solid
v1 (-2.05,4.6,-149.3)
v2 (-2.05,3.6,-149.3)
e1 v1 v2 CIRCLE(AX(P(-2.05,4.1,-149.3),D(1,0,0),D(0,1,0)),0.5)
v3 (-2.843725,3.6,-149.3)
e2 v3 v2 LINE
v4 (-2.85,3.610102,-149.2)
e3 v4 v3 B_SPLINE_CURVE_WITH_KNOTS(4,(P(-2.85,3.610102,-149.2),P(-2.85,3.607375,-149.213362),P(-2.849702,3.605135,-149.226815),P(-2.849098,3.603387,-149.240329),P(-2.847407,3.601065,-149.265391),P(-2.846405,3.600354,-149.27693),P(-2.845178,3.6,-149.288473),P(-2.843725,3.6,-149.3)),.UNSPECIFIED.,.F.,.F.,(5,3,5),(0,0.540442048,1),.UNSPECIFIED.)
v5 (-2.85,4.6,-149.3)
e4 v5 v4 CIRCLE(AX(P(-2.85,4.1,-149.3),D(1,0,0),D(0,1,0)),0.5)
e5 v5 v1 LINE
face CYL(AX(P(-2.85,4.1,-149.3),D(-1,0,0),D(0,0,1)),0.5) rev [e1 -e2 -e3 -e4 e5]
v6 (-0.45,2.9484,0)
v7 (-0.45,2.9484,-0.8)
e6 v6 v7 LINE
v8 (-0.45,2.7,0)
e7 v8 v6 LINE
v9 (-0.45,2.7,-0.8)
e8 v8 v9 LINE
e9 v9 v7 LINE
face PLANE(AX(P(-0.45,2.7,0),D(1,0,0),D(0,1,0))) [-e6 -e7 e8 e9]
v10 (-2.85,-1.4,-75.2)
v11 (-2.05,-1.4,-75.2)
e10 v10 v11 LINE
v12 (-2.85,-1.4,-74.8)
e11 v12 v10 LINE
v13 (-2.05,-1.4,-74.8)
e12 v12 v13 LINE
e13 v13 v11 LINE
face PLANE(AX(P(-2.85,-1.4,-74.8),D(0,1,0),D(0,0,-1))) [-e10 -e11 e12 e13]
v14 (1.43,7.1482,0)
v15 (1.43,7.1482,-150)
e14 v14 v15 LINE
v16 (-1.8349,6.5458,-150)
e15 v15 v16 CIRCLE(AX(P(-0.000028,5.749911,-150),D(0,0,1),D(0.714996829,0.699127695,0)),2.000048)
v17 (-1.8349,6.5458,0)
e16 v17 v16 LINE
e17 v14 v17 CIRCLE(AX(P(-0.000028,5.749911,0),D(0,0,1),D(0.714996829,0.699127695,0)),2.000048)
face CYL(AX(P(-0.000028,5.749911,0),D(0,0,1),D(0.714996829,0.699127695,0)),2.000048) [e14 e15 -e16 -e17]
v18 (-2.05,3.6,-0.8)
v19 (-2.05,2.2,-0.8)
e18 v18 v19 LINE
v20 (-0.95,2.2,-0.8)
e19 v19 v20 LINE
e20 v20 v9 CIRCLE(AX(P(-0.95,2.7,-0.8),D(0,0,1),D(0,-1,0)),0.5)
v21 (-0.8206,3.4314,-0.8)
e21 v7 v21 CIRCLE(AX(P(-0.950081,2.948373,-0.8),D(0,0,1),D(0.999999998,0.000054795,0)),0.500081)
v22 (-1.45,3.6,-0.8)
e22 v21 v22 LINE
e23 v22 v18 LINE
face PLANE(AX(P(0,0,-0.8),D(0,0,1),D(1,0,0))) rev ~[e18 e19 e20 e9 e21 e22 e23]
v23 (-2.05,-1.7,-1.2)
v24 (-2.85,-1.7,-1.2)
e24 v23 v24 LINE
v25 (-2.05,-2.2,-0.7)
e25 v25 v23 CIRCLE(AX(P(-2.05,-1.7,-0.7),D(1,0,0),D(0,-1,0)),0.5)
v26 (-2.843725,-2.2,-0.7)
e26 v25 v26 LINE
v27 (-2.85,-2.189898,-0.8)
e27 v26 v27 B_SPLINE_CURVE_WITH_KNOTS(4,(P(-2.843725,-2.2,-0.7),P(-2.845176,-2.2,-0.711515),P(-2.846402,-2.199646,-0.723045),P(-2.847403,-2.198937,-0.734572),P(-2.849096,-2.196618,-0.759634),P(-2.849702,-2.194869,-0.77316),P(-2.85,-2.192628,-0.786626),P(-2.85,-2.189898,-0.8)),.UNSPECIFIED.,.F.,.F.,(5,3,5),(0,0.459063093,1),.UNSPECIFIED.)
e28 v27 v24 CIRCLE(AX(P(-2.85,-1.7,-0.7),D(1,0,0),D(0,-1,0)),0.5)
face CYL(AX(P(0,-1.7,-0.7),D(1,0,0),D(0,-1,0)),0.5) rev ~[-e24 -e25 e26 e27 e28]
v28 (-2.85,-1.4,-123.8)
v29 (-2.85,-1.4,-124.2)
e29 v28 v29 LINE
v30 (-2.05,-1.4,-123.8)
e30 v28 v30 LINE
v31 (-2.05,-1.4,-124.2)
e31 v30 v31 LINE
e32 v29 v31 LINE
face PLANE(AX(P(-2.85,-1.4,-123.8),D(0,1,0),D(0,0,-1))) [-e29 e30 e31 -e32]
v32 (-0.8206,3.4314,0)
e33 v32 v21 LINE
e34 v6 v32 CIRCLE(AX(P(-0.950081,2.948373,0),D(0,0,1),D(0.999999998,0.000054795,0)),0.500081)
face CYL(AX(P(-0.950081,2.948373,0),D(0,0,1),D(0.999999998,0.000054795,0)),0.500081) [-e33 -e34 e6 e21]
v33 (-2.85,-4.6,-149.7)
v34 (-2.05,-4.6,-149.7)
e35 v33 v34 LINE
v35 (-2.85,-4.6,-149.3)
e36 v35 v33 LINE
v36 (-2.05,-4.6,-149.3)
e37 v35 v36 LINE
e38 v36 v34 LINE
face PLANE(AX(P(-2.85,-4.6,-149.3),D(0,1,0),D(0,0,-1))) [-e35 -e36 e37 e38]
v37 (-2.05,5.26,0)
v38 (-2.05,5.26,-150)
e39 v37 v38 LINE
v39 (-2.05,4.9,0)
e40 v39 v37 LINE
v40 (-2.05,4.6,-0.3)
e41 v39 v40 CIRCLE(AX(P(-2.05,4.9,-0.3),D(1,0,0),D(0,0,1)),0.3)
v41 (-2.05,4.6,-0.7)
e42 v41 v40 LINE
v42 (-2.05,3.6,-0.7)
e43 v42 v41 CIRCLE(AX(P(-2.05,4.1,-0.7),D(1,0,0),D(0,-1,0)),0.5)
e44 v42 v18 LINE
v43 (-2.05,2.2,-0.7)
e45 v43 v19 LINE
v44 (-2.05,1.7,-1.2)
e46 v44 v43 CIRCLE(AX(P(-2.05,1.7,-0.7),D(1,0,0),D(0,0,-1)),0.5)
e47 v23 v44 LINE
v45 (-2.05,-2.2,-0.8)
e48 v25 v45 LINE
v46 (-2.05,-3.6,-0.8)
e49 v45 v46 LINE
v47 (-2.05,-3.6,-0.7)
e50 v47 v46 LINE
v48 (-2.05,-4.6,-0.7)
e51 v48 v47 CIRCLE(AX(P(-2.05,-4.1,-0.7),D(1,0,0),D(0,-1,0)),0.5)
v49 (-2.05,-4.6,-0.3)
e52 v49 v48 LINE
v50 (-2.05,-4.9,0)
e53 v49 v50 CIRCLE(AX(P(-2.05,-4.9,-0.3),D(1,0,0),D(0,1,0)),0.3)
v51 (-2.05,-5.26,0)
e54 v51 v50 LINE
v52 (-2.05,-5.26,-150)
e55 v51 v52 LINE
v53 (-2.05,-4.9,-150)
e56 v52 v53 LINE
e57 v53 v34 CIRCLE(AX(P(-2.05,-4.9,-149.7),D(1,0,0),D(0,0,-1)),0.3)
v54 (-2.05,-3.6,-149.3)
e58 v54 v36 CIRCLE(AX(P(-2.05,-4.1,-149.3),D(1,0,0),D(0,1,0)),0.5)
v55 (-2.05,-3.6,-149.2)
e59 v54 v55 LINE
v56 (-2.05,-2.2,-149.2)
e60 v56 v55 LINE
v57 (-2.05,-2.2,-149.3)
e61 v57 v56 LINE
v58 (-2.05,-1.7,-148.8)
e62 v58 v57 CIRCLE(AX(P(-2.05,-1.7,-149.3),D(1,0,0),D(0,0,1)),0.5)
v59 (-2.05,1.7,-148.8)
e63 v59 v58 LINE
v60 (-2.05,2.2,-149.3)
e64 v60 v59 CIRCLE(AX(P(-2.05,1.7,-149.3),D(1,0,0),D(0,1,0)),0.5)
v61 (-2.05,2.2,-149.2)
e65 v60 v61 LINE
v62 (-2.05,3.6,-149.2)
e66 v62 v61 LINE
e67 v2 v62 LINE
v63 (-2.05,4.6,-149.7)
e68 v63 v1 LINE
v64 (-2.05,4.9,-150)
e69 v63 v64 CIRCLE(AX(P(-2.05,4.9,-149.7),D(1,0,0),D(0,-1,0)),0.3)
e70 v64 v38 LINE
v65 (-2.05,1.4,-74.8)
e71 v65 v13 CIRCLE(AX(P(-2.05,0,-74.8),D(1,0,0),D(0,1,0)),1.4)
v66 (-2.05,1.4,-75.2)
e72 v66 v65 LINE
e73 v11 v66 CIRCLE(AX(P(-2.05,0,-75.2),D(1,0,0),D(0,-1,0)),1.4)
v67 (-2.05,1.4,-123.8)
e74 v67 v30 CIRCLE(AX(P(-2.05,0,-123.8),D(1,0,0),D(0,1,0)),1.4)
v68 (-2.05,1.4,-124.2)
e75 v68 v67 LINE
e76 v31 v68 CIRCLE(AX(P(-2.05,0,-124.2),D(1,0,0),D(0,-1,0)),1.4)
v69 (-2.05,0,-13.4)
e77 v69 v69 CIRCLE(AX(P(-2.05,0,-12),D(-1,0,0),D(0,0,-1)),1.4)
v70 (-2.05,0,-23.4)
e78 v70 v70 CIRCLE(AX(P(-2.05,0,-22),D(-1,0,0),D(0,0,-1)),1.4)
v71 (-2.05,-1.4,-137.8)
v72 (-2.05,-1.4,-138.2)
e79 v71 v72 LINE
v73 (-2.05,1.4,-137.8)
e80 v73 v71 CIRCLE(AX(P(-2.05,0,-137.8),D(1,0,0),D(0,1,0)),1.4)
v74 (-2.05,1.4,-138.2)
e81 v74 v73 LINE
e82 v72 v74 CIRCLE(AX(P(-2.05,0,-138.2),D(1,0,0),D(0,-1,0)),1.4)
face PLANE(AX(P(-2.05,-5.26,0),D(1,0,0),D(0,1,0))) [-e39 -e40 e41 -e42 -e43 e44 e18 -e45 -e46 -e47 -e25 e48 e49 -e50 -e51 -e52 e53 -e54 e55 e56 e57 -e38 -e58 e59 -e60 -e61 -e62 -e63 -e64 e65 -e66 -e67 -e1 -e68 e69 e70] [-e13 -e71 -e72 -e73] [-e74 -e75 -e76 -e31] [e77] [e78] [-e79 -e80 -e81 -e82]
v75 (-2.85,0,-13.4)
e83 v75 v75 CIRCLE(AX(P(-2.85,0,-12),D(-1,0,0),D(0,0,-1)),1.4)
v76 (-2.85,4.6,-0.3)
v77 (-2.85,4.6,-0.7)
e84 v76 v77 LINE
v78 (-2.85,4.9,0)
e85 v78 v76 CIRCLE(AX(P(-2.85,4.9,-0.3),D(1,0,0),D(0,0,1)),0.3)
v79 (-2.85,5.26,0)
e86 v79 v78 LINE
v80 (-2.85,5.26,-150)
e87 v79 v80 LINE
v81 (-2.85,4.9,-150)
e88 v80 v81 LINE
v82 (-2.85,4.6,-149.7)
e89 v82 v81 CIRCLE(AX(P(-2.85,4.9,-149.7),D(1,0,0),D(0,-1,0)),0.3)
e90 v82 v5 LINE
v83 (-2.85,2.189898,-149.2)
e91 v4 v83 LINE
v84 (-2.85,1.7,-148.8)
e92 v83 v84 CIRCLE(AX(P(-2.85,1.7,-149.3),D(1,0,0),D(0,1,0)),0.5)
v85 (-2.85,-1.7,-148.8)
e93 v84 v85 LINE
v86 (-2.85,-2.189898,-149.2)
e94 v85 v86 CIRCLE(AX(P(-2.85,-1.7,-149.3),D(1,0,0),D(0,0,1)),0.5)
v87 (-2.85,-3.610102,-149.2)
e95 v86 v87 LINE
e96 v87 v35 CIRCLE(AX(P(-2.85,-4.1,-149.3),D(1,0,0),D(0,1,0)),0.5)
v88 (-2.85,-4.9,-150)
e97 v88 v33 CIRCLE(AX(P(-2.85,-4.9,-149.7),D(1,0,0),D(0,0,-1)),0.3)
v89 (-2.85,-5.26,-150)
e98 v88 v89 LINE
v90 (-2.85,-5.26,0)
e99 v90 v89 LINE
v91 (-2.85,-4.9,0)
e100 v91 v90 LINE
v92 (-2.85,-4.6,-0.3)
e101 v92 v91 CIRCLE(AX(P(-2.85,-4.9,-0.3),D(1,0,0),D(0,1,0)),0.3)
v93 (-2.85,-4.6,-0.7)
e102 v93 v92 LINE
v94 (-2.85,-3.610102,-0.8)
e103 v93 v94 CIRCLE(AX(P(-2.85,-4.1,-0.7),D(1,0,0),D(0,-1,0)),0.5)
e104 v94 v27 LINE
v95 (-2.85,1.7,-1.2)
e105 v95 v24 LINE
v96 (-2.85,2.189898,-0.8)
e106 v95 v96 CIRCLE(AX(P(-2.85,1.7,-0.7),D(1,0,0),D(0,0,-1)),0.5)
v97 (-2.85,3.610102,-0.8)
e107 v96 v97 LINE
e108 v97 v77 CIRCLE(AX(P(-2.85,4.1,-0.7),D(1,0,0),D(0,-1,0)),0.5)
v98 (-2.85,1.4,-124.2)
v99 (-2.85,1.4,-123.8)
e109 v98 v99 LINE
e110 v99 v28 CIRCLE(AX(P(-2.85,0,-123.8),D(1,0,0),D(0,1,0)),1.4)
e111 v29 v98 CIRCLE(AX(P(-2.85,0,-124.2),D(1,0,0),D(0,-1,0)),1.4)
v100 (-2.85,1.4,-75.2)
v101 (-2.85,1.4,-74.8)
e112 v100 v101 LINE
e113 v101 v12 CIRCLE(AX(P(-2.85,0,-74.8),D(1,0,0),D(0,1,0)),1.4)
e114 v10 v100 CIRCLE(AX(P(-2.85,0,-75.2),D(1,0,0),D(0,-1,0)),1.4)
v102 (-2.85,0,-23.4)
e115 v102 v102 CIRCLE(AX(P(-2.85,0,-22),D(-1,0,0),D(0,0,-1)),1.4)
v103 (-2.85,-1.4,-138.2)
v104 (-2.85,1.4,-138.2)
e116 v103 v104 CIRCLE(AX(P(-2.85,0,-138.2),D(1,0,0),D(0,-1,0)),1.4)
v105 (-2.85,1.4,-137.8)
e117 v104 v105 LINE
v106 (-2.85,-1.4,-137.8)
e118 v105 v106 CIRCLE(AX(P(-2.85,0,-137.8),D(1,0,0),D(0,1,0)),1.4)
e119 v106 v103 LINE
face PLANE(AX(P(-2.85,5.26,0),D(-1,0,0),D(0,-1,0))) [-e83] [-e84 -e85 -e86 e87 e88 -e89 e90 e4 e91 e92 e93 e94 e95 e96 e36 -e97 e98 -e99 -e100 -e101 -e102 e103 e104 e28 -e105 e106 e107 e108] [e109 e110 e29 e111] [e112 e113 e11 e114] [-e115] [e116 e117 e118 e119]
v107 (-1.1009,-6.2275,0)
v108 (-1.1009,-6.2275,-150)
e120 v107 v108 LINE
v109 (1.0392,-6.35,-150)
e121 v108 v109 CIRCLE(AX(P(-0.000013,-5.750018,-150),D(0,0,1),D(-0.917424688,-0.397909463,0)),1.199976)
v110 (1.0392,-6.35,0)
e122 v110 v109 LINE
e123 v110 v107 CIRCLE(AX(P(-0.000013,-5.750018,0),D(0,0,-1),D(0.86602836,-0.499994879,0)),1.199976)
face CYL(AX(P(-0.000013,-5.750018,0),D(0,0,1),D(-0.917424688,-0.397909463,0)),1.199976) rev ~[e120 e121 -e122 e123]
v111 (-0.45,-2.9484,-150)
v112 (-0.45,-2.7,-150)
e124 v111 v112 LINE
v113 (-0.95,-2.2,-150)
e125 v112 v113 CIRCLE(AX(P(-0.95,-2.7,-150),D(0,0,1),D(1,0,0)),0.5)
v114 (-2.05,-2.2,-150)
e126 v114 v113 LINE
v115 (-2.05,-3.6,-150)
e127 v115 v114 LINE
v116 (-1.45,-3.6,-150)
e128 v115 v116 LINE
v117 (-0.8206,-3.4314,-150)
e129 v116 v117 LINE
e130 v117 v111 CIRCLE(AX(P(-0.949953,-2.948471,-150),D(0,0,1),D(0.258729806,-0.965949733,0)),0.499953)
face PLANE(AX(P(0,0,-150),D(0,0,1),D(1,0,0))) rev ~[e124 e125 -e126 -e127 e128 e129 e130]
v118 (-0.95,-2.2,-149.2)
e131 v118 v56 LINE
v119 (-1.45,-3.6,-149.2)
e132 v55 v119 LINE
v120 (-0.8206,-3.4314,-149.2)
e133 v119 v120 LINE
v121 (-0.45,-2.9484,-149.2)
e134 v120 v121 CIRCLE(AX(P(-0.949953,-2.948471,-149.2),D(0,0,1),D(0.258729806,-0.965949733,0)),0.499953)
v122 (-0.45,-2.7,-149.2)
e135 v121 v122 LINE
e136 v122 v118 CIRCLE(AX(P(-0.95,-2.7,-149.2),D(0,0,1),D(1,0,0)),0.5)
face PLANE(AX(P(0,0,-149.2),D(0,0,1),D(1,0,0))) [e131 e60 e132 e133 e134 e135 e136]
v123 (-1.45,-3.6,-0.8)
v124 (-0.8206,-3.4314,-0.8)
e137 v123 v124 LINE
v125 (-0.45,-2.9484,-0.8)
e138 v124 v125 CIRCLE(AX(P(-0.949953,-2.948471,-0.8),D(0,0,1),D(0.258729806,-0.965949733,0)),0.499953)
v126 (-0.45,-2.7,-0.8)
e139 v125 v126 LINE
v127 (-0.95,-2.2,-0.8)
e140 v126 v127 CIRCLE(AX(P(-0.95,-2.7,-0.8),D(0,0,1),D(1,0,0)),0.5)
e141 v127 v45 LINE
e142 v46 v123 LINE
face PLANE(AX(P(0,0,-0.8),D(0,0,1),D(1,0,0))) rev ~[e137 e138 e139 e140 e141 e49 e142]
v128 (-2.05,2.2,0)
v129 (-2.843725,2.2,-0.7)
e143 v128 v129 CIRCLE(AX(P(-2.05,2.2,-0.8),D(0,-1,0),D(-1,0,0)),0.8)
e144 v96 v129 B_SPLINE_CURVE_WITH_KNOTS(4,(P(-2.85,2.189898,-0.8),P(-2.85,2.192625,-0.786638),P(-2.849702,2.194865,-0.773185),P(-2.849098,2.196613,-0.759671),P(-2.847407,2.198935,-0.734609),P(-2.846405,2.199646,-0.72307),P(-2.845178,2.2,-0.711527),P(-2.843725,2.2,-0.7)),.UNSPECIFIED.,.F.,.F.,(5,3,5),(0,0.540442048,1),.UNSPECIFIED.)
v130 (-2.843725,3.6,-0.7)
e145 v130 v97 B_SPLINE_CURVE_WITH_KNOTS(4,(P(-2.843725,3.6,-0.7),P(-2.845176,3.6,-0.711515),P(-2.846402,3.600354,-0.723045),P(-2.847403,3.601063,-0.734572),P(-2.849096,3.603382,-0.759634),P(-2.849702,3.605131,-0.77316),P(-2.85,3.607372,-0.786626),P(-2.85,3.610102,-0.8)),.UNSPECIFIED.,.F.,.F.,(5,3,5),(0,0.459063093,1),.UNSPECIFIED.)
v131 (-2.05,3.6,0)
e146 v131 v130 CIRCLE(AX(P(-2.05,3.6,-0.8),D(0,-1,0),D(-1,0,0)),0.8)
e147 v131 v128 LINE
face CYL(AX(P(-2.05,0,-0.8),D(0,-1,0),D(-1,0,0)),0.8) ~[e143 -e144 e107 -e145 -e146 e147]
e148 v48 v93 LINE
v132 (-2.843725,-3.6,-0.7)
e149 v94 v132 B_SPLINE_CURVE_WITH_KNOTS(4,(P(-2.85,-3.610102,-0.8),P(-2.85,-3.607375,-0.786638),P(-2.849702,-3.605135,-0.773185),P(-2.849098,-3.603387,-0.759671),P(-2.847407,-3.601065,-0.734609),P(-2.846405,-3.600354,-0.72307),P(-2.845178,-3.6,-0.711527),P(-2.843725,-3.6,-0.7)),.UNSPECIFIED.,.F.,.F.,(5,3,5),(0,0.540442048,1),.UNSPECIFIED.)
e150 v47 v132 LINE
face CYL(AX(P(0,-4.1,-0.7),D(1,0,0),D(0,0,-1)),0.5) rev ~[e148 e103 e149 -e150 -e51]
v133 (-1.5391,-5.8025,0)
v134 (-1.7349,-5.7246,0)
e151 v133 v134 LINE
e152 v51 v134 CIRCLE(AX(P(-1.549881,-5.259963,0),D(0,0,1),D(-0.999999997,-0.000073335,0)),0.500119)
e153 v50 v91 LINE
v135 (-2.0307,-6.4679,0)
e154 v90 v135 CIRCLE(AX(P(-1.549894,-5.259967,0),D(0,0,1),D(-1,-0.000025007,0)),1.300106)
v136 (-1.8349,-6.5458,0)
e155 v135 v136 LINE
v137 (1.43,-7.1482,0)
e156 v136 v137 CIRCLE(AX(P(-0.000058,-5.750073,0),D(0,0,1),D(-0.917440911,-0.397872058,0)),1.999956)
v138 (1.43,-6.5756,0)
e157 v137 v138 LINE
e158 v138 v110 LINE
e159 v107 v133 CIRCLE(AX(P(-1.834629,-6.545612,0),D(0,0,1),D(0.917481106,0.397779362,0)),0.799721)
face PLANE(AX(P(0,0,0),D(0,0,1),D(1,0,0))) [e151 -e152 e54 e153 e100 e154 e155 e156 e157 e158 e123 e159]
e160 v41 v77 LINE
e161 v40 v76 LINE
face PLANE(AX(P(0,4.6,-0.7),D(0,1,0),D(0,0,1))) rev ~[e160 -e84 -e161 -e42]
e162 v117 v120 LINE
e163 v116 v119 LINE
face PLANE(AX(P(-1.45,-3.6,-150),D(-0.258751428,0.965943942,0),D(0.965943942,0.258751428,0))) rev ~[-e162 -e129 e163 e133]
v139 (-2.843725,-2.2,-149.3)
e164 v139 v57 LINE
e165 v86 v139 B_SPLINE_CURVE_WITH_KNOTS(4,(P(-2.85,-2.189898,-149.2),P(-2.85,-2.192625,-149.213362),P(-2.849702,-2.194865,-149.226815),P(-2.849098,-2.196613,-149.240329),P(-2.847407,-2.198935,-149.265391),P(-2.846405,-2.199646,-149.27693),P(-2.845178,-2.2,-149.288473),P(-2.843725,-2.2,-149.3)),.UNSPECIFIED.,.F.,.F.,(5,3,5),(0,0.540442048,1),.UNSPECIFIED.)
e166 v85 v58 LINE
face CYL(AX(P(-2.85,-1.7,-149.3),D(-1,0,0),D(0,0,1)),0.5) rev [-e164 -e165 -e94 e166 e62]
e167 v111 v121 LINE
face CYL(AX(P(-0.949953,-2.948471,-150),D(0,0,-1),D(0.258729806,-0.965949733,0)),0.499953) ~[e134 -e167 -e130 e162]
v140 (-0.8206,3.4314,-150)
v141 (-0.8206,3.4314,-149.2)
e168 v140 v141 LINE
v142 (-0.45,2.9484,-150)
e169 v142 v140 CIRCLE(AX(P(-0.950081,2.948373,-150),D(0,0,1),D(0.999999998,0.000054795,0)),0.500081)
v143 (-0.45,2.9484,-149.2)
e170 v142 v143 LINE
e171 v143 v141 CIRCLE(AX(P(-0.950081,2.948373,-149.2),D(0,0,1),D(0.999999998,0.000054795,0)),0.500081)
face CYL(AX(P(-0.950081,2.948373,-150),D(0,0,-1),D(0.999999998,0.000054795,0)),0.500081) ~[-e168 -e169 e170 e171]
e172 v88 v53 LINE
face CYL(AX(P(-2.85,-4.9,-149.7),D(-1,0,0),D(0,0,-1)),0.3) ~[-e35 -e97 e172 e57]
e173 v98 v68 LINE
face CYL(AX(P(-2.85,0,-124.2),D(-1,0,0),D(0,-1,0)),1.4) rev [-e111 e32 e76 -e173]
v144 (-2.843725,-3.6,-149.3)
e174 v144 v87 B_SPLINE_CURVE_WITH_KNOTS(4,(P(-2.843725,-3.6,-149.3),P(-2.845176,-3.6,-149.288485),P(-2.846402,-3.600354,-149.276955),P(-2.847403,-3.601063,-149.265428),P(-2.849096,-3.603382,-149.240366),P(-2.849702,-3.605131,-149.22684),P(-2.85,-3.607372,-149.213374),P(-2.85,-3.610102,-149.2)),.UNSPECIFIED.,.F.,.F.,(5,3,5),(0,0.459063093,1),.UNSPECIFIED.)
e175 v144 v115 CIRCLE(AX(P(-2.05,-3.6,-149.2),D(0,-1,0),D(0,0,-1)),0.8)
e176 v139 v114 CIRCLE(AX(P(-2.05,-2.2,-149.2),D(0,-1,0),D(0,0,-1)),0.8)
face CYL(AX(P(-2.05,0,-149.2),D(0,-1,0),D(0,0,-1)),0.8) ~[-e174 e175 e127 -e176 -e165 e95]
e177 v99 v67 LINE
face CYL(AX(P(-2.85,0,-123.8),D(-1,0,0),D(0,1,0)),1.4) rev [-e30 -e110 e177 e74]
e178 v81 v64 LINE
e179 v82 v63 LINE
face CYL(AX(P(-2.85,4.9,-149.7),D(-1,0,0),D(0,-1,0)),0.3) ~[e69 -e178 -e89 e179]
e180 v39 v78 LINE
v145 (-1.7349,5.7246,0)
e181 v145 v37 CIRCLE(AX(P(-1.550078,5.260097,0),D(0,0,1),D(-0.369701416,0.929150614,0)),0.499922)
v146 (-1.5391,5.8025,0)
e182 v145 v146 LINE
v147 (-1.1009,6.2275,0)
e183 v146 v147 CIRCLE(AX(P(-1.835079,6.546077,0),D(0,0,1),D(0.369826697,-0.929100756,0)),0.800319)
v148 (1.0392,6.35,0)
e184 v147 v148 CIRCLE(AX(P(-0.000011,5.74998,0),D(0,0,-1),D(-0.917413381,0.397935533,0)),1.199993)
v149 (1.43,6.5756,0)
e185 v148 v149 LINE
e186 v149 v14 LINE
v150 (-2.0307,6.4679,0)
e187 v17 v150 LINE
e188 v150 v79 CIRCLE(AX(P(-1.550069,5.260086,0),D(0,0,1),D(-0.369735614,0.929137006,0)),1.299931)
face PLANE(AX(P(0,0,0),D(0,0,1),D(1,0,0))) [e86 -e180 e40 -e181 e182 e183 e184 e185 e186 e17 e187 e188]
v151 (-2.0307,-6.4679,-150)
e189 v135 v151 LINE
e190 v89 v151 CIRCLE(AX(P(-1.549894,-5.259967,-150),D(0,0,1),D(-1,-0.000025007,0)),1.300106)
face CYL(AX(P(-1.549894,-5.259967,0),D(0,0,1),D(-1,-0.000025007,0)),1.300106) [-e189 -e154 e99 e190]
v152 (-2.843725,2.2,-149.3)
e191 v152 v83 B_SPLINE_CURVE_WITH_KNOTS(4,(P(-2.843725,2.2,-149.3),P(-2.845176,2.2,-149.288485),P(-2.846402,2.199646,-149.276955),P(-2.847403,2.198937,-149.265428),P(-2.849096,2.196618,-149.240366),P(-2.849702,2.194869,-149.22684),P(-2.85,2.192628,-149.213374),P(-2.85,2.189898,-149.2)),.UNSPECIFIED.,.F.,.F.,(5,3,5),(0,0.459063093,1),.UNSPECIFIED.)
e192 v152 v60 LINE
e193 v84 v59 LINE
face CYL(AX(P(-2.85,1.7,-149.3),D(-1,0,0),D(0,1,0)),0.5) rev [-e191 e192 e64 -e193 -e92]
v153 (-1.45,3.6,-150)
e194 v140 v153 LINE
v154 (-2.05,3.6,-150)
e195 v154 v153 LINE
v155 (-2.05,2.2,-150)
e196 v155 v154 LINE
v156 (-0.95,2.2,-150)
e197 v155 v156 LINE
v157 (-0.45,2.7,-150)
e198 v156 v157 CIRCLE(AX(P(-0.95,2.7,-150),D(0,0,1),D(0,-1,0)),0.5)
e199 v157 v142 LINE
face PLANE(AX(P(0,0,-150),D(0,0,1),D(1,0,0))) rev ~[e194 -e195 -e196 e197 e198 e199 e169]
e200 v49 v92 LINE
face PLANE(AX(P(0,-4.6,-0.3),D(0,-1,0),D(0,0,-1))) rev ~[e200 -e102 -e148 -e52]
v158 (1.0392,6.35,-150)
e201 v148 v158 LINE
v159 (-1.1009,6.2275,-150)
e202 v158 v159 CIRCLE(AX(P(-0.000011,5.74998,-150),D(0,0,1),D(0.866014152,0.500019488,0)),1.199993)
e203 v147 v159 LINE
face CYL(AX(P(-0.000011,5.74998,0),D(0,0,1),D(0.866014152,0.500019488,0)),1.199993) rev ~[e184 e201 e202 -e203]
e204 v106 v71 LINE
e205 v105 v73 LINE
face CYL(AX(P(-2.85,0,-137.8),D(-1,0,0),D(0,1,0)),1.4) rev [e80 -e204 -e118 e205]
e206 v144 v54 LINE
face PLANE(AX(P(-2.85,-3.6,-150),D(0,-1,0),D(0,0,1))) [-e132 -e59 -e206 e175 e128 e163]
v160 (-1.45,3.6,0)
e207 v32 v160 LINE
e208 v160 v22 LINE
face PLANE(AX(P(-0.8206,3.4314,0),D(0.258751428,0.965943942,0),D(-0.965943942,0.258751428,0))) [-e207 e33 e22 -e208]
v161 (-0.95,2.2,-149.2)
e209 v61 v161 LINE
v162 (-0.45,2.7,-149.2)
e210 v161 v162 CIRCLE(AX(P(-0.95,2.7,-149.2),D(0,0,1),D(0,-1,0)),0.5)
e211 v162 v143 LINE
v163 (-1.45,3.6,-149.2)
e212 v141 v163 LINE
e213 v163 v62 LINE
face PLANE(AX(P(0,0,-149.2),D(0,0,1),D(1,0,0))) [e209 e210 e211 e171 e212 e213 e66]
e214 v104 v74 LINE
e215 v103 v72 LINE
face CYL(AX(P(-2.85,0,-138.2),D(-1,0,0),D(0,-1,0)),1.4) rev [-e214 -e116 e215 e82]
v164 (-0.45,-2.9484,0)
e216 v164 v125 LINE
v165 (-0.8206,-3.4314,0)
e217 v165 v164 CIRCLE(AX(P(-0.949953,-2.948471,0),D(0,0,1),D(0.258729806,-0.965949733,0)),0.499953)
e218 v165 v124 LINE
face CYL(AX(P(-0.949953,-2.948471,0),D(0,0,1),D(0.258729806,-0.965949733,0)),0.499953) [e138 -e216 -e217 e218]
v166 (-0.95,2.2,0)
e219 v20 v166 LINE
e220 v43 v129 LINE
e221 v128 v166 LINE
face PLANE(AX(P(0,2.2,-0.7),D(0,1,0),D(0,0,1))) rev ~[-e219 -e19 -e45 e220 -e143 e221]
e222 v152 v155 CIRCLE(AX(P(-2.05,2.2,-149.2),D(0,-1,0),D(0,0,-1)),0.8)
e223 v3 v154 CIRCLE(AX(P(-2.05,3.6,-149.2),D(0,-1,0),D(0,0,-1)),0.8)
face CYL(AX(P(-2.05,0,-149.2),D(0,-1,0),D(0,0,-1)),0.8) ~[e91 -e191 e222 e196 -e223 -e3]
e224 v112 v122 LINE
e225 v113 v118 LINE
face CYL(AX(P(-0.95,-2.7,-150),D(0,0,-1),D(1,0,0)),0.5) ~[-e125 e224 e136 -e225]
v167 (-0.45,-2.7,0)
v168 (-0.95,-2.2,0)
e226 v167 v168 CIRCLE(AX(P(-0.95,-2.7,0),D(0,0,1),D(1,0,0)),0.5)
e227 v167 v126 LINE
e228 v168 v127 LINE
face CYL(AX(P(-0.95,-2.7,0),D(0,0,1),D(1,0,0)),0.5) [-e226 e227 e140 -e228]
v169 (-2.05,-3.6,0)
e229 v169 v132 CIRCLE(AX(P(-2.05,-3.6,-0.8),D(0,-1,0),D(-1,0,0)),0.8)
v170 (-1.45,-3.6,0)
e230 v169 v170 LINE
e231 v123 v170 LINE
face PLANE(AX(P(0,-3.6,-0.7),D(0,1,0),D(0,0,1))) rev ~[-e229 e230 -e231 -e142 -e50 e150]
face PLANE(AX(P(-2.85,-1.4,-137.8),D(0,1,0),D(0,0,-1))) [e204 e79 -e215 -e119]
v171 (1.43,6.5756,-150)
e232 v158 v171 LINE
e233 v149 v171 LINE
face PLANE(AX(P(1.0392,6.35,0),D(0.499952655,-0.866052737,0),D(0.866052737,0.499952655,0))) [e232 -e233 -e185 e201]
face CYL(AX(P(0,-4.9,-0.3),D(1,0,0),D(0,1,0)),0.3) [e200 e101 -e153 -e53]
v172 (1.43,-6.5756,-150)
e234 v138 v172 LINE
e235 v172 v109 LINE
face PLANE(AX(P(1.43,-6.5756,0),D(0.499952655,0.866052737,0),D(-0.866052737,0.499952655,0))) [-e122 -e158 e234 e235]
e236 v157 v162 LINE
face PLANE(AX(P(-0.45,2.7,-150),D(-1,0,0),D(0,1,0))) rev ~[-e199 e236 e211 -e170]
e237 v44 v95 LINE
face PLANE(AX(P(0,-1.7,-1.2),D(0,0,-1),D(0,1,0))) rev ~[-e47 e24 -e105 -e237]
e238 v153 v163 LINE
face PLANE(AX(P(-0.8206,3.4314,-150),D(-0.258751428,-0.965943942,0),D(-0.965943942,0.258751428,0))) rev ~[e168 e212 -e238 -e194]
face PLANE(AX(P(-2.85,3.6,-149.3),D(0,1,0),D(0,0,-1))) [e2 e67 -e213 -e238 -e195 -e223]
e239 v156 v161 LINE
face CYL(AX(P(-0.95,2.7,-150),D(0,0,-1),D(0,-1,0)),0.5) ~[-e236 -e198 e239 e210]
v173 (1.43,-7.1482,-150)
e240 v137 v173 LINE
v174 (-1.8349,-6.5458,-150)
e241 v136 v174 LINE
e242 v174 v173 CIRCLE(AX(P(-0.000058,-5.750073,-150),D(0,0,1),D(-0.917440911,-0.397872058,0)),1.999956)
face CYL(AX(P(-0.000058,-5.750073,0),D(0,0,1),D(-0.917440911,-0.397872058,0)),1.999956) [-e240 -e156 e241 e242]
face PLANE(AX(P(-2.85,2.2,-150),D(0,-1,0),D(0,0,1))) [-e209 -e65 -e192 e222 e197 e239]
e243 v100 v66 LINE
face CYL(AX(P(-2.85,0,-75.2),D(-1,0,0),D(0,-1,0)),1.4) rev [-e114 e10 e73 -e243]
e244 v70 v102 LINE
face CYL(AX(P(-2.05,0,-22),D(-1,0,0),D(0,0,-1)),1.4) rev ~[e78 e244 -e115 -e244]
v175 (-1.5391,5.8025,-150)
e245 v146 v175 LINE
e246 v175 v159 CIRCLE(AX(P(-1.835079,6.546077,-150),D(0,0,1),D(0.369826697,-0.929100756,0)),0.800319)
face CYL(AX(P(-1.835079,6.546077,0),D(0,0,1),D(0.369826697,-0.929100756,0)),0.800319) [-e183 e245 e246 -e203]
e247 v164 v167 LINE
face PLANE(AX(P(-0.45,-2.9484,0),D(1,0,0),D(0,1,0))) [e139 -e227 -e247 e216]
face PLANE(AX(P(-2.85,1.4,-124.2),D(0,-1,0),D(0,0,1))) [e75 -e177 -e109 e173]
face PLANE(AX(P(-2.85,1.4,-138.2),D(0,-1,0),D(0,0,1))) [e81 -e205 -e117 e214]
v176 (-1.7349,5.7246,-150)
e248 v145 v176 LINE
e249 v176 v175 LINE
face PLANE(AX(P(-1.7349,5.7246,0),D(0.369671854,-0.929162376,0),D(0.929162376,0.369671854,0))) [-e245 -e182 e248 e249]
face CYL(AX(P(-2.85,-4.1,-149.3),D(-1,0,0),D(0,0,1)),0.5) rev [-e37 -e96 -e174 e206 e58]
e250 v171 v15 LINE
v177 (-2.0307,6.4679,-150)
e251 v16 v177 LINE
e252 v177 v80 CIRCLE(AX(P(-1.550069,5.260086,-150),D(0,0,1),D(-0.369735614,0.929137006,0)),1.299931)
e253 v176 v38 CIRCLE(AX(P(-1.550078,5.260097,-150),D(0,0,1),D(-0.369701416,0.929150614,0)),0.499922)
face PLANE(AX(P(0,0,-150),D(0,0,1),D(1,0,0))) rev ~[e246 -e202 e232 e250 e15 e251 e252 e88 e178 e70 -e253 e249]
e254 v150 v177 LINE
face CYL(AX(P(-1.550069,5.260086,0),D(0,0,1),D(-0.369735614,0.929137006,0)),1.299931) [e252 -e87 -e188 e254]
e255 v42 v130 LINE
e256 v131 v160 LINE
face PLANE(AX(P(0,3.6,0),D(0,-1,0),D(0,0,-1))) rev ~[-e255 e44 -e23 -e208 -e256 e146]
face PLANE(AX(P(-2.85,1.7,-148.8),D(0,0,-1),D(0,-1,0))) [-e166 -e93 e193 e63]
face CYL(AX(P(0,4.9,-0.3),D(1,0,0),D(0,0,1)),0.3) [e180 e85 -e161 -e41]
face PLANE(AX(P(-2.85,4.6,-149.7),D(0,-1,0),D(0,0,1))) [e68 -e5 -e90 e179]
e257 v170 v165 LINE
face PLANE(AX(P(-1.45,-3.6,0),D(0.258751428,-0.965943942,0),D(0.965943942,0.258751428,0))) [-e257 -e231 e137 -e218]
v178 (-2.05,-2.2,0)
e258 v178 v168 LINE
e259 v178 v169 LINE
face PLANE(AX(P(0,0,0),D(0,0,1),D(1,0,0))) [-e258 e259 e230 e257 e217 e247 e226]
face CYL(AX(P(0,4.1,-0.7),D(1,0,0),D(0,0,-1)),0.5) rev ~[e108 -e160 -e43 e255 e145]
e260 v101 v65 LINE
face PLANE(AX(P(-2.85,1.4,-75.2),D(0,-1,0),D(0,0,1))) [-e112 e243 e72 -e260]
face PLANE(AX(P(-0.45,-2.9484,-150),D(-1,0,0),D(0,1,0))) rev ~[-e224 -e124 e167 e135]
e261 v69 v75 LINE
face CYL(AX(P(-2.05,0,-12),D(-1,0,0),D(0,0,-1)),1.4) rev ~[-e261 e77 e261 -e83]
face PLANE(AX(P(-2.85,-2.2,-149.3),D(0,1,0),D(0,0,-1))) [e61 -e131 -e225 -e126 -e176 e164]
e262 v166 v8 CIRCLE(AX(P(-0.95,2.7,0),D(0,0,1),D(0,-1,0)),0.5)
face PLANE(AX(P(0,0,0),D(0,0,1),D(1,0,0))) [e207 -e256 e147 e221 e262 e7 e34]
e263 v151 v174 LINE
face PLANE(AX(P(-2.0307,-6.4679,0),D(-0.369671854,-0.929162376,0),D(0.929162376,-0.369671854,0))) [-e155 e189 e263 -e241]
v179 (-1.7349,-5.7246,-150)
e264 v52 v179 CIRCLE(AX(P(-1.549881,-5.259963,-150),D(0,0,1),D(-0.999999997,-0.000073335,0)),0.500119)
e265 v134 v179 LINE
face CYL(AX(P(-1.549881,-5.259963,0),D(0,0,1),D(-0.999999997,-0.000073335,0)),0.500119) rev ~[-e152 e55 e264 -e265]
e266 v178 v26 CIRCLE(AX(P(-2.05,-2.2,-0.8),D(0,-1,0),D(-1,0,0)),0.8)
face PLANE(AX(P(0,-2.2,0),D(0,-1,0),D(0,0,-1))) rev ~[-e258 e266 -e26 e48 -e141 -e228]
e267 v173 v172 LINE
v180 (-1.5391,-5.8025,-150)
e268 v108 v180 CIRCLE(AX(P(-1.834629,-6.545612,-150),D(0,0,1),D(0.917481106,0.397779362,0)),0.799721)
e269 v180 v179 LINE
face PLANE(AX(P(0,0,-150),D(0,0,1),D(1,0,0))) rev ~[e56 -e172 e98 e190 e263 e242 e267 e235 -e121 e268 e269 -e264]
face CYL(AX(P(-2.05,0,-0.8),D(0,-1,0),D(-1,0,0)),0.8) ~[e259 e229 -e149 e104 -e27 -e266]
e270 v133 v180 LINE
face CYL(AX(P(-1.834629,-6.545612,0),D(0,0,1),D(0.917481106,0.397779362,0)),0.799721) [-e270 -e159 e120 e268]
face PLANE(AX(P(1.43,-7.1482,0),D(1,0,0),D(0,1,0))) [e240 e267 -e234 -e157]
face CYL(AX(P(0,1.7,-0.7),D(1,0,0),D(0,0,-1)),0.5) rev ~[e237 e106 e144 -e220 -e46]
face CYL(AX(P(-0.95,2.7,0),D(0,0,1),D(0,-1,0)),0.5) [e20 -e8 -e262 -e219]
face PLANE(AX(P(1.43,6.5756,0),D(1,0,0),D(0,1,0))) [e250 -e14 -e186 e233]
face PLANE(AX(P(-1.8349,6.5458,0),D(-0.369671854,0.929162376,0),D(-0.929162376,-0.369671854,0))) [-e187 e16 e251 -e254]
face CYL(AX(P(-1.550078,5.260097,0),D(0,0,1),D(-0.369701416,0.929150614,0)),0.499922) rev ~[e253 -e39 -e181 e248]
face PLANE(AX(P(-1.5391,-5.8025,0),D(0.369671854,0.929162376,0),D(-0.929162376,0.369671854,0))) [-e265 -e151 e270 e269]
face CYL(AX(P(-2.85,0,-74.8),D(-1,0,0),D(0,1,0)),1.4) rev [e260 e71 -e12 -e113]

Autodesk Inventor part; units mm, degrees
sketch "_____1" plane through (0, 0, 0) normal (0, 0, 1) x (1, 0, 0)
  line L0 (-2.85, 5.26) -> (-2.85, -5.26)
  arc A0 (-2.85, -5.26) -> (-2.0307, -6.4679) centre (-1.55, -5.26) ccw
  line L1 (-2.0307, -6.4679) -> (-1.8349, -6.5458)
  arc A1 (-1.8349, -6.5458) -> (1.43, -7.1482) centre (0, -5.75) ccw
  line L2 (1.43, -7.1482) -> (1.43, -6.5756)
  line L3 (1.43, -6.5756) -> (1.0392, -6.35)
  arc A2 (-1.1009, -6.2275) -> (1.0392, -6.35) centre (0, -5.75) ccw
  arc A3 (-1.1009, -6.2275) -> (-1.5391, -5.8025) centre (-1.8349, -6.5458) ccw
  line L4 (-1.5391, -5.8025) -> (-1.7349, -5.7246)
  arc A4 (-2.05, -5.26) -> (-1.7349, -5.7246) centre (-1.55, -5.26) ccw
  line L5 (-2.05, -5.26) -> (-2.05, 5.26)
  arc A5 (-1.7349, 5.7246) -> (-2.05, 5.26) centre (-1.55, 5.26) ccw
  line L6 (-1.7349, 5.7246) -> (-1.5391, 5.8025)
  arc A6 (-1.5391, 5.8025) -> (-1.1009, 6.2275) centre (-1.8349, 6.5458) ccw
  arc A7 (1.0392, 6.35) -> (-1.1009, 6.2275) centre (0, 5.75) ccw
  line L7 (1.0392, 6.35) -> (1.43, 6.5756)
  line L8 (1.43, 6.5756) -> (1.43, 7.1482)
  arc A8 (1.43, 7.1482) -> (-1.8349, 6.5458) centre (0, 5.75) ccw
  line L9 (-1.8349, 6.5458) -> (-2.0307, 6.4679)
  arc A9 (-2.0307, 6.4679) -> (-2.85, 5.26) centre (-1.55, 5.26) ccw
extrude "Extrusion1" add sketch "_____1" against normal blind 150
sketch "_____3" plane through (0, 0, 0) normal (0, 0, 1) x (1, 0, 0)
  line L0 (-2.05, 3.6) -> (-2.05, 2.2)
  line L1 (-2.05, 2.2) -> (-0.95, 2.2)
  arc A0 (-0.95, 2.2) -> (-0.45, 2.7) centre (-0.95, 2.7) ccw
  line L2 (-0.45, 2.7) -> (-0.45, 2.9484)
  arc A1 (-0.45, 2.9484) -> (-0.8206, 3.4314) centre (-0.95, 2.9484) ccw
  line L3 (-0.8206, 3.4314) -> (-1.45, 3.6)
  line L4 (-1.45, 3.6) -> (-2.05, 3.6)
extrude "Extrusion2" add sketch "_____3" against normal blind 0.8
sketch "_____5" plane through (0, 0, 0) normal (0, 0, 1) x (1, 0, 0)
  line L0 (-2.05, -3.6) -> (-1.45, -3.6)
  line L1 (-1.45, -3.6) -> (-0.8206, -3.4314)
  arc A0 (-0.8206, -3.4314) -> (-0.45, -2.9484) centre (-0.95, -2.9484) ccw
  line L2 (-0.45, -2.9484) -> (-0.45, -2.7)
  arc A1 (-0.45, -2.7) -> (-0.95, -2.2) centre (-0.95, -2.7) ccw
  line L3 (-0.95, -2.2) -> (-2.05, -2.2)
  line L4 (-2.05, -2.2) -> (-2.05, -3.6)
extrude "Extrusion3" add sketch "_____5" against normal blind 0.8
sketch "_____4" plane through (0, 0, 0) normal (1, 0, 0) x (0, 1, 0)
  line L0 (7.75, 1) -> (-7.75, 1)
  line L1 (-7.75, 1) -> (-7.75, 0)
  line L2 (-7.75, 0) -> (-4.9, 0)
  arc A0 (-4.6, -0.3) -> (-4.9, 0) centre (-4.9, -0.3) ccw
  line L3 (-4.6, -0.3) -> (-4.6, -0.7)
  arc A1 (-4.6, -0.7) -> (-4.1, -1.2) centre (-4.1, -0.7) ccw
  arc A2 (-4.1, -1.2) -> (-3.6, -0.7) centre (-4.1, -0.7) ccw
  line L4 (-3.6, -0.7) -> (-3.6, 0)
  line L5 (-3.6, 0) -> (-2.2, 0)
  line L6 (-2.2, 0) -> (-2.2, -0.7)
  arc A3 (-2.2, -0.7) -> (-1.7, -1.2) centre (-1.7, -0.7) ccw
  line L7 (-1.7, -1.2) -> (1.7, -1.2)
  arc A4 (1.7, -1.2) -> (2.2, -0.7) centre (1.7, -0.7) ccw
  line L8 (2.2, -0.7) -> (2.2, 0)
  line L9 (2.2, 0) -> (3.6, 0)
  line L10 (3.6, 0) -> (3.6, -0.7)
  arc A5 (3.6, -0.7) -> (4.1, -1.2) centre (4.1, -0.7) ccw
  arc A6 (4.1, -1.2) -> (4.6, -0.7) centre (4.1, -0.7) ccw
  line L11 (4.6, -0.7) -> (4.6, -0.3)
  arc A7 (4.9, 0) -> (4.6, -0.3) centre (4.9, -0.3) ccw
  line L12 (4.9, 0) -> (7.75, 0)
  line L13 (7.75, 0) -> (7.75, 1)
extrude "Extrusion4" cut sketch "_____4" against normal blind 4.28
sketch "_____6" plane through (0, 0, 0) normal (0, 1, 0) x (1, 0, 0)
  line L0 (-2.85, 0.8) -> (-2.85, 0)
  line L1 (-2.85, 0) -> (-2.05, 0)
  arc A0 (-2.85, 0.8) -> (-2.05, 0) centre (-2.05, 0.8) ccw
extrude "Extrusion5" cut sketch "_____6" along normal mid plane 8.2
sketch "_____2" plane through (0, 0, -150) normal (0, 0, 1) x (1, 0, 0)
  line L0 (-2.05, 3.6) -> (-2.05, 2.2)
  line L1 (-2.05, 2.2) -> (-0.95, 2.2)
  arc A0 (-0.95, 2.2) -> (-0.45, 2.7) centre (-0.95, 2.7) ccw
  line L2 (-0.45, 2.7) -> (-0.45, 2.9484)
  arc A1 (-0.45, 2.9484) -> (-0.8206, 3.4314) centre (-0.95, 2.9484) ccw
  line L3 (-0.8206, 3.4314) -> (-1.45, 3.6)
  line L4 (-1.45, 3.6) -> (-2.05, 3.6)
extrude "Extrusion6" add sketch "_____2" along normal blind 0.8
sketch "_____7" plane through (0, 0, -150) normal (0, 0, 1) x (1, 0, 0)
  line L0 (-2.05, -3.6) -> (-1.45, -3.6)
  line L1 (-1.45, -3.6) -> (-0.8206, -3.4314)
  arc A0 (-0.8206, -3.4314) -> (-0.45, -2.9484) centre (-0.95, -2.9484) ccw
  line L2 (-0.45, -2.9484) -> (-0.45, -2.7)
  arc A1 (-0.45, -2.7) -> (-0.95, -2.2) centre (-0.95, -2.7) ccw
  line L3 (-0.95, -2.2) -> (-2.05, -2.2)
  line L4 (-2.05, -2.2) -> (-2.05, -3.6)
extrude "Extrusion7" add sketch "_____7" along normal blind 0.8
sketch "_____8" plane through (-2.85, 0, 0) normal (1, 0, 0) x (0, 0, -1)
  arc A0 (148.8, -4.1) -> (149.3, -4.6) centre (149.3, -4.1) ccw
  line L0 (149.3, -4.6) -> (149.7, -4.6)
  arc A1 (150, -4.9) -> (149.7, -4.6) centre (149.7, -4.9) ccw
  line L1 (150, -4.9) -> (150, -7.75)
  line L2 (150, -7.75) -> (151, -7.75)
  line L3 (151, -7.75) -> (151, 7.75)
  line L4 (151, 7.75) -> (150, 7.75)
  line L5 (150, 7.75) -> (150, 4.9)
  arc A2 (149.7, 4.6) -> (150, 4.9) centre (149.7, 4.9) ccw
  line L6 (149.7, 4.6) -> (149.3, 4.6)
  arc A3 (149.3, 4.6) -> (148.8, 4.1) centre (149.3, 4.1) ccw
  arc A4 (148.8, 4.1) -> (149.3, 3.6) centre (149.3, 4.1) ccw
  line L7 (149.3, 3.6) -> (150, 3.6)
  line L8 (150, 3.6) -> (150, 2.2)
  line L9 (150, 2.2) -> (149.3, 2.2)
  arc A5 (149.3, 2.2) -> (148.8, 1.7) centre (149.3, 1.7) ccw
  line L10 (148.8, 1.7) -> (148.8, -1.7)
  arc A6 (148.8, -1.7) -> (149.3, -2.2) centre (149.3, -1.7) ccw
  line L11 (149.3, -2.2) -> (150, -2.2)
  line L12 (150, -2.2) -> (150, -3.6)
  line L13 (150, -3.6) -> (149.3, -3.6)
  arc A7 (149.3, -3.6) -> (148.8, -4.1) centre (149.3, -4.1) ccw
extrude "Extrusion8" cut sketch "_____8" along normal blind 0.8
sketch "_____9" plane through (0, 0, 0) normal (0, 1, 0) x (1, 0, 0)
  arc A0 (-2.05, 150) -> (-2.85, 149.2) centre (-2.05, 149.2) ccw
  line L0 (-2.05, 150) -> (-2.85, 150)
  line L1 (-2.85, 150) -> (-2.85, 149.2)
extrude "Extrusion9" cut sketch "_____9" along normal mid plane 8.2
sketch "Sketch10" plane through (-2.05, 5.26, 0) normal (1, 0, 0) x (0, 0, -1)
  point P0 (12, -5.26)
hole "Hole1" at (-2.05, 0, -12) direction (-1, 0, 0) diameter 2.8 depth 0.8
pattern_linear "Rectangular Pattern1" count 2 spacing 10 along (0, 0, -1) of "Hole1"
sketch "_____12" plane through (-2.85, 0, 0) normal (1, 0, 0) x (0, 0, -1)
  arc A0 (123.8, 1.4) -> (123.8, -1.4) centre (123.8, 0) ccw
  line L0 (123.8, -1.4) -> (124.2, -1.4)
  arc A1 (124.2, -1.4) -> (124.2, 1.4) centre (124.2, 0) ccw
  line L1 (124.2, 1.4) -> (123.8, 1.4)
extrude "Extrusion10" cut sketch "_____12" along normal blind 0.8
sketch "_____13" plane through (-2.85, 0, 0) normal (1, 0, 0) x (0, 0, -1)
  arc A0 (137.8, 1.4) -> (137.8, -1.4) centre (137.8, 0) ccw
  line L0 (137.8, -1.4) -> (138.2, -1.4)
  arc A1 (138.2, -1.4) -> (138.2, 1.4) centre (138.2, 0) ccw
  line L1 (138.2, 1.4) -> (137.8, 1.4)
extrude "Extrusion11" cut sketch "_____13" along normal blind 0.8
sketch "_____14" plane through (-2.85, 0, 0) normal (1, 0, 0) x (0, 0, -1)
  arc A0 (74.8, 1.4) -> (74.8, -1.4) centre (74.8, 0) ccw
  line L0 (74.8, -1.4) -> (75.2, -1.4)
  arc A1 (75.2, -1.4) -> (75.2, 1.4) centre (75.2, 0) ccw
  line L1 (75.2, 1.4) -> (74.8, 1.4)
extrude "Extrusion12" cut sketch "_____14" along normal blind 0.8
ref_plane "to_retainer_XY" through (0, 0, 0) normal (0, 0, 1) x (1, 0, 0)
ref_plane "to_retainer_YZ" through (0, 0, 0) normal (1, 0, 0) x (0, 1, 0)
ref_plane "to_retainer_ZX" through (0, 0, 0) normal (0, 1, 0) x (0, 0, 1)
properties part number "SSRC215_or" material "ステンレス鋼"
